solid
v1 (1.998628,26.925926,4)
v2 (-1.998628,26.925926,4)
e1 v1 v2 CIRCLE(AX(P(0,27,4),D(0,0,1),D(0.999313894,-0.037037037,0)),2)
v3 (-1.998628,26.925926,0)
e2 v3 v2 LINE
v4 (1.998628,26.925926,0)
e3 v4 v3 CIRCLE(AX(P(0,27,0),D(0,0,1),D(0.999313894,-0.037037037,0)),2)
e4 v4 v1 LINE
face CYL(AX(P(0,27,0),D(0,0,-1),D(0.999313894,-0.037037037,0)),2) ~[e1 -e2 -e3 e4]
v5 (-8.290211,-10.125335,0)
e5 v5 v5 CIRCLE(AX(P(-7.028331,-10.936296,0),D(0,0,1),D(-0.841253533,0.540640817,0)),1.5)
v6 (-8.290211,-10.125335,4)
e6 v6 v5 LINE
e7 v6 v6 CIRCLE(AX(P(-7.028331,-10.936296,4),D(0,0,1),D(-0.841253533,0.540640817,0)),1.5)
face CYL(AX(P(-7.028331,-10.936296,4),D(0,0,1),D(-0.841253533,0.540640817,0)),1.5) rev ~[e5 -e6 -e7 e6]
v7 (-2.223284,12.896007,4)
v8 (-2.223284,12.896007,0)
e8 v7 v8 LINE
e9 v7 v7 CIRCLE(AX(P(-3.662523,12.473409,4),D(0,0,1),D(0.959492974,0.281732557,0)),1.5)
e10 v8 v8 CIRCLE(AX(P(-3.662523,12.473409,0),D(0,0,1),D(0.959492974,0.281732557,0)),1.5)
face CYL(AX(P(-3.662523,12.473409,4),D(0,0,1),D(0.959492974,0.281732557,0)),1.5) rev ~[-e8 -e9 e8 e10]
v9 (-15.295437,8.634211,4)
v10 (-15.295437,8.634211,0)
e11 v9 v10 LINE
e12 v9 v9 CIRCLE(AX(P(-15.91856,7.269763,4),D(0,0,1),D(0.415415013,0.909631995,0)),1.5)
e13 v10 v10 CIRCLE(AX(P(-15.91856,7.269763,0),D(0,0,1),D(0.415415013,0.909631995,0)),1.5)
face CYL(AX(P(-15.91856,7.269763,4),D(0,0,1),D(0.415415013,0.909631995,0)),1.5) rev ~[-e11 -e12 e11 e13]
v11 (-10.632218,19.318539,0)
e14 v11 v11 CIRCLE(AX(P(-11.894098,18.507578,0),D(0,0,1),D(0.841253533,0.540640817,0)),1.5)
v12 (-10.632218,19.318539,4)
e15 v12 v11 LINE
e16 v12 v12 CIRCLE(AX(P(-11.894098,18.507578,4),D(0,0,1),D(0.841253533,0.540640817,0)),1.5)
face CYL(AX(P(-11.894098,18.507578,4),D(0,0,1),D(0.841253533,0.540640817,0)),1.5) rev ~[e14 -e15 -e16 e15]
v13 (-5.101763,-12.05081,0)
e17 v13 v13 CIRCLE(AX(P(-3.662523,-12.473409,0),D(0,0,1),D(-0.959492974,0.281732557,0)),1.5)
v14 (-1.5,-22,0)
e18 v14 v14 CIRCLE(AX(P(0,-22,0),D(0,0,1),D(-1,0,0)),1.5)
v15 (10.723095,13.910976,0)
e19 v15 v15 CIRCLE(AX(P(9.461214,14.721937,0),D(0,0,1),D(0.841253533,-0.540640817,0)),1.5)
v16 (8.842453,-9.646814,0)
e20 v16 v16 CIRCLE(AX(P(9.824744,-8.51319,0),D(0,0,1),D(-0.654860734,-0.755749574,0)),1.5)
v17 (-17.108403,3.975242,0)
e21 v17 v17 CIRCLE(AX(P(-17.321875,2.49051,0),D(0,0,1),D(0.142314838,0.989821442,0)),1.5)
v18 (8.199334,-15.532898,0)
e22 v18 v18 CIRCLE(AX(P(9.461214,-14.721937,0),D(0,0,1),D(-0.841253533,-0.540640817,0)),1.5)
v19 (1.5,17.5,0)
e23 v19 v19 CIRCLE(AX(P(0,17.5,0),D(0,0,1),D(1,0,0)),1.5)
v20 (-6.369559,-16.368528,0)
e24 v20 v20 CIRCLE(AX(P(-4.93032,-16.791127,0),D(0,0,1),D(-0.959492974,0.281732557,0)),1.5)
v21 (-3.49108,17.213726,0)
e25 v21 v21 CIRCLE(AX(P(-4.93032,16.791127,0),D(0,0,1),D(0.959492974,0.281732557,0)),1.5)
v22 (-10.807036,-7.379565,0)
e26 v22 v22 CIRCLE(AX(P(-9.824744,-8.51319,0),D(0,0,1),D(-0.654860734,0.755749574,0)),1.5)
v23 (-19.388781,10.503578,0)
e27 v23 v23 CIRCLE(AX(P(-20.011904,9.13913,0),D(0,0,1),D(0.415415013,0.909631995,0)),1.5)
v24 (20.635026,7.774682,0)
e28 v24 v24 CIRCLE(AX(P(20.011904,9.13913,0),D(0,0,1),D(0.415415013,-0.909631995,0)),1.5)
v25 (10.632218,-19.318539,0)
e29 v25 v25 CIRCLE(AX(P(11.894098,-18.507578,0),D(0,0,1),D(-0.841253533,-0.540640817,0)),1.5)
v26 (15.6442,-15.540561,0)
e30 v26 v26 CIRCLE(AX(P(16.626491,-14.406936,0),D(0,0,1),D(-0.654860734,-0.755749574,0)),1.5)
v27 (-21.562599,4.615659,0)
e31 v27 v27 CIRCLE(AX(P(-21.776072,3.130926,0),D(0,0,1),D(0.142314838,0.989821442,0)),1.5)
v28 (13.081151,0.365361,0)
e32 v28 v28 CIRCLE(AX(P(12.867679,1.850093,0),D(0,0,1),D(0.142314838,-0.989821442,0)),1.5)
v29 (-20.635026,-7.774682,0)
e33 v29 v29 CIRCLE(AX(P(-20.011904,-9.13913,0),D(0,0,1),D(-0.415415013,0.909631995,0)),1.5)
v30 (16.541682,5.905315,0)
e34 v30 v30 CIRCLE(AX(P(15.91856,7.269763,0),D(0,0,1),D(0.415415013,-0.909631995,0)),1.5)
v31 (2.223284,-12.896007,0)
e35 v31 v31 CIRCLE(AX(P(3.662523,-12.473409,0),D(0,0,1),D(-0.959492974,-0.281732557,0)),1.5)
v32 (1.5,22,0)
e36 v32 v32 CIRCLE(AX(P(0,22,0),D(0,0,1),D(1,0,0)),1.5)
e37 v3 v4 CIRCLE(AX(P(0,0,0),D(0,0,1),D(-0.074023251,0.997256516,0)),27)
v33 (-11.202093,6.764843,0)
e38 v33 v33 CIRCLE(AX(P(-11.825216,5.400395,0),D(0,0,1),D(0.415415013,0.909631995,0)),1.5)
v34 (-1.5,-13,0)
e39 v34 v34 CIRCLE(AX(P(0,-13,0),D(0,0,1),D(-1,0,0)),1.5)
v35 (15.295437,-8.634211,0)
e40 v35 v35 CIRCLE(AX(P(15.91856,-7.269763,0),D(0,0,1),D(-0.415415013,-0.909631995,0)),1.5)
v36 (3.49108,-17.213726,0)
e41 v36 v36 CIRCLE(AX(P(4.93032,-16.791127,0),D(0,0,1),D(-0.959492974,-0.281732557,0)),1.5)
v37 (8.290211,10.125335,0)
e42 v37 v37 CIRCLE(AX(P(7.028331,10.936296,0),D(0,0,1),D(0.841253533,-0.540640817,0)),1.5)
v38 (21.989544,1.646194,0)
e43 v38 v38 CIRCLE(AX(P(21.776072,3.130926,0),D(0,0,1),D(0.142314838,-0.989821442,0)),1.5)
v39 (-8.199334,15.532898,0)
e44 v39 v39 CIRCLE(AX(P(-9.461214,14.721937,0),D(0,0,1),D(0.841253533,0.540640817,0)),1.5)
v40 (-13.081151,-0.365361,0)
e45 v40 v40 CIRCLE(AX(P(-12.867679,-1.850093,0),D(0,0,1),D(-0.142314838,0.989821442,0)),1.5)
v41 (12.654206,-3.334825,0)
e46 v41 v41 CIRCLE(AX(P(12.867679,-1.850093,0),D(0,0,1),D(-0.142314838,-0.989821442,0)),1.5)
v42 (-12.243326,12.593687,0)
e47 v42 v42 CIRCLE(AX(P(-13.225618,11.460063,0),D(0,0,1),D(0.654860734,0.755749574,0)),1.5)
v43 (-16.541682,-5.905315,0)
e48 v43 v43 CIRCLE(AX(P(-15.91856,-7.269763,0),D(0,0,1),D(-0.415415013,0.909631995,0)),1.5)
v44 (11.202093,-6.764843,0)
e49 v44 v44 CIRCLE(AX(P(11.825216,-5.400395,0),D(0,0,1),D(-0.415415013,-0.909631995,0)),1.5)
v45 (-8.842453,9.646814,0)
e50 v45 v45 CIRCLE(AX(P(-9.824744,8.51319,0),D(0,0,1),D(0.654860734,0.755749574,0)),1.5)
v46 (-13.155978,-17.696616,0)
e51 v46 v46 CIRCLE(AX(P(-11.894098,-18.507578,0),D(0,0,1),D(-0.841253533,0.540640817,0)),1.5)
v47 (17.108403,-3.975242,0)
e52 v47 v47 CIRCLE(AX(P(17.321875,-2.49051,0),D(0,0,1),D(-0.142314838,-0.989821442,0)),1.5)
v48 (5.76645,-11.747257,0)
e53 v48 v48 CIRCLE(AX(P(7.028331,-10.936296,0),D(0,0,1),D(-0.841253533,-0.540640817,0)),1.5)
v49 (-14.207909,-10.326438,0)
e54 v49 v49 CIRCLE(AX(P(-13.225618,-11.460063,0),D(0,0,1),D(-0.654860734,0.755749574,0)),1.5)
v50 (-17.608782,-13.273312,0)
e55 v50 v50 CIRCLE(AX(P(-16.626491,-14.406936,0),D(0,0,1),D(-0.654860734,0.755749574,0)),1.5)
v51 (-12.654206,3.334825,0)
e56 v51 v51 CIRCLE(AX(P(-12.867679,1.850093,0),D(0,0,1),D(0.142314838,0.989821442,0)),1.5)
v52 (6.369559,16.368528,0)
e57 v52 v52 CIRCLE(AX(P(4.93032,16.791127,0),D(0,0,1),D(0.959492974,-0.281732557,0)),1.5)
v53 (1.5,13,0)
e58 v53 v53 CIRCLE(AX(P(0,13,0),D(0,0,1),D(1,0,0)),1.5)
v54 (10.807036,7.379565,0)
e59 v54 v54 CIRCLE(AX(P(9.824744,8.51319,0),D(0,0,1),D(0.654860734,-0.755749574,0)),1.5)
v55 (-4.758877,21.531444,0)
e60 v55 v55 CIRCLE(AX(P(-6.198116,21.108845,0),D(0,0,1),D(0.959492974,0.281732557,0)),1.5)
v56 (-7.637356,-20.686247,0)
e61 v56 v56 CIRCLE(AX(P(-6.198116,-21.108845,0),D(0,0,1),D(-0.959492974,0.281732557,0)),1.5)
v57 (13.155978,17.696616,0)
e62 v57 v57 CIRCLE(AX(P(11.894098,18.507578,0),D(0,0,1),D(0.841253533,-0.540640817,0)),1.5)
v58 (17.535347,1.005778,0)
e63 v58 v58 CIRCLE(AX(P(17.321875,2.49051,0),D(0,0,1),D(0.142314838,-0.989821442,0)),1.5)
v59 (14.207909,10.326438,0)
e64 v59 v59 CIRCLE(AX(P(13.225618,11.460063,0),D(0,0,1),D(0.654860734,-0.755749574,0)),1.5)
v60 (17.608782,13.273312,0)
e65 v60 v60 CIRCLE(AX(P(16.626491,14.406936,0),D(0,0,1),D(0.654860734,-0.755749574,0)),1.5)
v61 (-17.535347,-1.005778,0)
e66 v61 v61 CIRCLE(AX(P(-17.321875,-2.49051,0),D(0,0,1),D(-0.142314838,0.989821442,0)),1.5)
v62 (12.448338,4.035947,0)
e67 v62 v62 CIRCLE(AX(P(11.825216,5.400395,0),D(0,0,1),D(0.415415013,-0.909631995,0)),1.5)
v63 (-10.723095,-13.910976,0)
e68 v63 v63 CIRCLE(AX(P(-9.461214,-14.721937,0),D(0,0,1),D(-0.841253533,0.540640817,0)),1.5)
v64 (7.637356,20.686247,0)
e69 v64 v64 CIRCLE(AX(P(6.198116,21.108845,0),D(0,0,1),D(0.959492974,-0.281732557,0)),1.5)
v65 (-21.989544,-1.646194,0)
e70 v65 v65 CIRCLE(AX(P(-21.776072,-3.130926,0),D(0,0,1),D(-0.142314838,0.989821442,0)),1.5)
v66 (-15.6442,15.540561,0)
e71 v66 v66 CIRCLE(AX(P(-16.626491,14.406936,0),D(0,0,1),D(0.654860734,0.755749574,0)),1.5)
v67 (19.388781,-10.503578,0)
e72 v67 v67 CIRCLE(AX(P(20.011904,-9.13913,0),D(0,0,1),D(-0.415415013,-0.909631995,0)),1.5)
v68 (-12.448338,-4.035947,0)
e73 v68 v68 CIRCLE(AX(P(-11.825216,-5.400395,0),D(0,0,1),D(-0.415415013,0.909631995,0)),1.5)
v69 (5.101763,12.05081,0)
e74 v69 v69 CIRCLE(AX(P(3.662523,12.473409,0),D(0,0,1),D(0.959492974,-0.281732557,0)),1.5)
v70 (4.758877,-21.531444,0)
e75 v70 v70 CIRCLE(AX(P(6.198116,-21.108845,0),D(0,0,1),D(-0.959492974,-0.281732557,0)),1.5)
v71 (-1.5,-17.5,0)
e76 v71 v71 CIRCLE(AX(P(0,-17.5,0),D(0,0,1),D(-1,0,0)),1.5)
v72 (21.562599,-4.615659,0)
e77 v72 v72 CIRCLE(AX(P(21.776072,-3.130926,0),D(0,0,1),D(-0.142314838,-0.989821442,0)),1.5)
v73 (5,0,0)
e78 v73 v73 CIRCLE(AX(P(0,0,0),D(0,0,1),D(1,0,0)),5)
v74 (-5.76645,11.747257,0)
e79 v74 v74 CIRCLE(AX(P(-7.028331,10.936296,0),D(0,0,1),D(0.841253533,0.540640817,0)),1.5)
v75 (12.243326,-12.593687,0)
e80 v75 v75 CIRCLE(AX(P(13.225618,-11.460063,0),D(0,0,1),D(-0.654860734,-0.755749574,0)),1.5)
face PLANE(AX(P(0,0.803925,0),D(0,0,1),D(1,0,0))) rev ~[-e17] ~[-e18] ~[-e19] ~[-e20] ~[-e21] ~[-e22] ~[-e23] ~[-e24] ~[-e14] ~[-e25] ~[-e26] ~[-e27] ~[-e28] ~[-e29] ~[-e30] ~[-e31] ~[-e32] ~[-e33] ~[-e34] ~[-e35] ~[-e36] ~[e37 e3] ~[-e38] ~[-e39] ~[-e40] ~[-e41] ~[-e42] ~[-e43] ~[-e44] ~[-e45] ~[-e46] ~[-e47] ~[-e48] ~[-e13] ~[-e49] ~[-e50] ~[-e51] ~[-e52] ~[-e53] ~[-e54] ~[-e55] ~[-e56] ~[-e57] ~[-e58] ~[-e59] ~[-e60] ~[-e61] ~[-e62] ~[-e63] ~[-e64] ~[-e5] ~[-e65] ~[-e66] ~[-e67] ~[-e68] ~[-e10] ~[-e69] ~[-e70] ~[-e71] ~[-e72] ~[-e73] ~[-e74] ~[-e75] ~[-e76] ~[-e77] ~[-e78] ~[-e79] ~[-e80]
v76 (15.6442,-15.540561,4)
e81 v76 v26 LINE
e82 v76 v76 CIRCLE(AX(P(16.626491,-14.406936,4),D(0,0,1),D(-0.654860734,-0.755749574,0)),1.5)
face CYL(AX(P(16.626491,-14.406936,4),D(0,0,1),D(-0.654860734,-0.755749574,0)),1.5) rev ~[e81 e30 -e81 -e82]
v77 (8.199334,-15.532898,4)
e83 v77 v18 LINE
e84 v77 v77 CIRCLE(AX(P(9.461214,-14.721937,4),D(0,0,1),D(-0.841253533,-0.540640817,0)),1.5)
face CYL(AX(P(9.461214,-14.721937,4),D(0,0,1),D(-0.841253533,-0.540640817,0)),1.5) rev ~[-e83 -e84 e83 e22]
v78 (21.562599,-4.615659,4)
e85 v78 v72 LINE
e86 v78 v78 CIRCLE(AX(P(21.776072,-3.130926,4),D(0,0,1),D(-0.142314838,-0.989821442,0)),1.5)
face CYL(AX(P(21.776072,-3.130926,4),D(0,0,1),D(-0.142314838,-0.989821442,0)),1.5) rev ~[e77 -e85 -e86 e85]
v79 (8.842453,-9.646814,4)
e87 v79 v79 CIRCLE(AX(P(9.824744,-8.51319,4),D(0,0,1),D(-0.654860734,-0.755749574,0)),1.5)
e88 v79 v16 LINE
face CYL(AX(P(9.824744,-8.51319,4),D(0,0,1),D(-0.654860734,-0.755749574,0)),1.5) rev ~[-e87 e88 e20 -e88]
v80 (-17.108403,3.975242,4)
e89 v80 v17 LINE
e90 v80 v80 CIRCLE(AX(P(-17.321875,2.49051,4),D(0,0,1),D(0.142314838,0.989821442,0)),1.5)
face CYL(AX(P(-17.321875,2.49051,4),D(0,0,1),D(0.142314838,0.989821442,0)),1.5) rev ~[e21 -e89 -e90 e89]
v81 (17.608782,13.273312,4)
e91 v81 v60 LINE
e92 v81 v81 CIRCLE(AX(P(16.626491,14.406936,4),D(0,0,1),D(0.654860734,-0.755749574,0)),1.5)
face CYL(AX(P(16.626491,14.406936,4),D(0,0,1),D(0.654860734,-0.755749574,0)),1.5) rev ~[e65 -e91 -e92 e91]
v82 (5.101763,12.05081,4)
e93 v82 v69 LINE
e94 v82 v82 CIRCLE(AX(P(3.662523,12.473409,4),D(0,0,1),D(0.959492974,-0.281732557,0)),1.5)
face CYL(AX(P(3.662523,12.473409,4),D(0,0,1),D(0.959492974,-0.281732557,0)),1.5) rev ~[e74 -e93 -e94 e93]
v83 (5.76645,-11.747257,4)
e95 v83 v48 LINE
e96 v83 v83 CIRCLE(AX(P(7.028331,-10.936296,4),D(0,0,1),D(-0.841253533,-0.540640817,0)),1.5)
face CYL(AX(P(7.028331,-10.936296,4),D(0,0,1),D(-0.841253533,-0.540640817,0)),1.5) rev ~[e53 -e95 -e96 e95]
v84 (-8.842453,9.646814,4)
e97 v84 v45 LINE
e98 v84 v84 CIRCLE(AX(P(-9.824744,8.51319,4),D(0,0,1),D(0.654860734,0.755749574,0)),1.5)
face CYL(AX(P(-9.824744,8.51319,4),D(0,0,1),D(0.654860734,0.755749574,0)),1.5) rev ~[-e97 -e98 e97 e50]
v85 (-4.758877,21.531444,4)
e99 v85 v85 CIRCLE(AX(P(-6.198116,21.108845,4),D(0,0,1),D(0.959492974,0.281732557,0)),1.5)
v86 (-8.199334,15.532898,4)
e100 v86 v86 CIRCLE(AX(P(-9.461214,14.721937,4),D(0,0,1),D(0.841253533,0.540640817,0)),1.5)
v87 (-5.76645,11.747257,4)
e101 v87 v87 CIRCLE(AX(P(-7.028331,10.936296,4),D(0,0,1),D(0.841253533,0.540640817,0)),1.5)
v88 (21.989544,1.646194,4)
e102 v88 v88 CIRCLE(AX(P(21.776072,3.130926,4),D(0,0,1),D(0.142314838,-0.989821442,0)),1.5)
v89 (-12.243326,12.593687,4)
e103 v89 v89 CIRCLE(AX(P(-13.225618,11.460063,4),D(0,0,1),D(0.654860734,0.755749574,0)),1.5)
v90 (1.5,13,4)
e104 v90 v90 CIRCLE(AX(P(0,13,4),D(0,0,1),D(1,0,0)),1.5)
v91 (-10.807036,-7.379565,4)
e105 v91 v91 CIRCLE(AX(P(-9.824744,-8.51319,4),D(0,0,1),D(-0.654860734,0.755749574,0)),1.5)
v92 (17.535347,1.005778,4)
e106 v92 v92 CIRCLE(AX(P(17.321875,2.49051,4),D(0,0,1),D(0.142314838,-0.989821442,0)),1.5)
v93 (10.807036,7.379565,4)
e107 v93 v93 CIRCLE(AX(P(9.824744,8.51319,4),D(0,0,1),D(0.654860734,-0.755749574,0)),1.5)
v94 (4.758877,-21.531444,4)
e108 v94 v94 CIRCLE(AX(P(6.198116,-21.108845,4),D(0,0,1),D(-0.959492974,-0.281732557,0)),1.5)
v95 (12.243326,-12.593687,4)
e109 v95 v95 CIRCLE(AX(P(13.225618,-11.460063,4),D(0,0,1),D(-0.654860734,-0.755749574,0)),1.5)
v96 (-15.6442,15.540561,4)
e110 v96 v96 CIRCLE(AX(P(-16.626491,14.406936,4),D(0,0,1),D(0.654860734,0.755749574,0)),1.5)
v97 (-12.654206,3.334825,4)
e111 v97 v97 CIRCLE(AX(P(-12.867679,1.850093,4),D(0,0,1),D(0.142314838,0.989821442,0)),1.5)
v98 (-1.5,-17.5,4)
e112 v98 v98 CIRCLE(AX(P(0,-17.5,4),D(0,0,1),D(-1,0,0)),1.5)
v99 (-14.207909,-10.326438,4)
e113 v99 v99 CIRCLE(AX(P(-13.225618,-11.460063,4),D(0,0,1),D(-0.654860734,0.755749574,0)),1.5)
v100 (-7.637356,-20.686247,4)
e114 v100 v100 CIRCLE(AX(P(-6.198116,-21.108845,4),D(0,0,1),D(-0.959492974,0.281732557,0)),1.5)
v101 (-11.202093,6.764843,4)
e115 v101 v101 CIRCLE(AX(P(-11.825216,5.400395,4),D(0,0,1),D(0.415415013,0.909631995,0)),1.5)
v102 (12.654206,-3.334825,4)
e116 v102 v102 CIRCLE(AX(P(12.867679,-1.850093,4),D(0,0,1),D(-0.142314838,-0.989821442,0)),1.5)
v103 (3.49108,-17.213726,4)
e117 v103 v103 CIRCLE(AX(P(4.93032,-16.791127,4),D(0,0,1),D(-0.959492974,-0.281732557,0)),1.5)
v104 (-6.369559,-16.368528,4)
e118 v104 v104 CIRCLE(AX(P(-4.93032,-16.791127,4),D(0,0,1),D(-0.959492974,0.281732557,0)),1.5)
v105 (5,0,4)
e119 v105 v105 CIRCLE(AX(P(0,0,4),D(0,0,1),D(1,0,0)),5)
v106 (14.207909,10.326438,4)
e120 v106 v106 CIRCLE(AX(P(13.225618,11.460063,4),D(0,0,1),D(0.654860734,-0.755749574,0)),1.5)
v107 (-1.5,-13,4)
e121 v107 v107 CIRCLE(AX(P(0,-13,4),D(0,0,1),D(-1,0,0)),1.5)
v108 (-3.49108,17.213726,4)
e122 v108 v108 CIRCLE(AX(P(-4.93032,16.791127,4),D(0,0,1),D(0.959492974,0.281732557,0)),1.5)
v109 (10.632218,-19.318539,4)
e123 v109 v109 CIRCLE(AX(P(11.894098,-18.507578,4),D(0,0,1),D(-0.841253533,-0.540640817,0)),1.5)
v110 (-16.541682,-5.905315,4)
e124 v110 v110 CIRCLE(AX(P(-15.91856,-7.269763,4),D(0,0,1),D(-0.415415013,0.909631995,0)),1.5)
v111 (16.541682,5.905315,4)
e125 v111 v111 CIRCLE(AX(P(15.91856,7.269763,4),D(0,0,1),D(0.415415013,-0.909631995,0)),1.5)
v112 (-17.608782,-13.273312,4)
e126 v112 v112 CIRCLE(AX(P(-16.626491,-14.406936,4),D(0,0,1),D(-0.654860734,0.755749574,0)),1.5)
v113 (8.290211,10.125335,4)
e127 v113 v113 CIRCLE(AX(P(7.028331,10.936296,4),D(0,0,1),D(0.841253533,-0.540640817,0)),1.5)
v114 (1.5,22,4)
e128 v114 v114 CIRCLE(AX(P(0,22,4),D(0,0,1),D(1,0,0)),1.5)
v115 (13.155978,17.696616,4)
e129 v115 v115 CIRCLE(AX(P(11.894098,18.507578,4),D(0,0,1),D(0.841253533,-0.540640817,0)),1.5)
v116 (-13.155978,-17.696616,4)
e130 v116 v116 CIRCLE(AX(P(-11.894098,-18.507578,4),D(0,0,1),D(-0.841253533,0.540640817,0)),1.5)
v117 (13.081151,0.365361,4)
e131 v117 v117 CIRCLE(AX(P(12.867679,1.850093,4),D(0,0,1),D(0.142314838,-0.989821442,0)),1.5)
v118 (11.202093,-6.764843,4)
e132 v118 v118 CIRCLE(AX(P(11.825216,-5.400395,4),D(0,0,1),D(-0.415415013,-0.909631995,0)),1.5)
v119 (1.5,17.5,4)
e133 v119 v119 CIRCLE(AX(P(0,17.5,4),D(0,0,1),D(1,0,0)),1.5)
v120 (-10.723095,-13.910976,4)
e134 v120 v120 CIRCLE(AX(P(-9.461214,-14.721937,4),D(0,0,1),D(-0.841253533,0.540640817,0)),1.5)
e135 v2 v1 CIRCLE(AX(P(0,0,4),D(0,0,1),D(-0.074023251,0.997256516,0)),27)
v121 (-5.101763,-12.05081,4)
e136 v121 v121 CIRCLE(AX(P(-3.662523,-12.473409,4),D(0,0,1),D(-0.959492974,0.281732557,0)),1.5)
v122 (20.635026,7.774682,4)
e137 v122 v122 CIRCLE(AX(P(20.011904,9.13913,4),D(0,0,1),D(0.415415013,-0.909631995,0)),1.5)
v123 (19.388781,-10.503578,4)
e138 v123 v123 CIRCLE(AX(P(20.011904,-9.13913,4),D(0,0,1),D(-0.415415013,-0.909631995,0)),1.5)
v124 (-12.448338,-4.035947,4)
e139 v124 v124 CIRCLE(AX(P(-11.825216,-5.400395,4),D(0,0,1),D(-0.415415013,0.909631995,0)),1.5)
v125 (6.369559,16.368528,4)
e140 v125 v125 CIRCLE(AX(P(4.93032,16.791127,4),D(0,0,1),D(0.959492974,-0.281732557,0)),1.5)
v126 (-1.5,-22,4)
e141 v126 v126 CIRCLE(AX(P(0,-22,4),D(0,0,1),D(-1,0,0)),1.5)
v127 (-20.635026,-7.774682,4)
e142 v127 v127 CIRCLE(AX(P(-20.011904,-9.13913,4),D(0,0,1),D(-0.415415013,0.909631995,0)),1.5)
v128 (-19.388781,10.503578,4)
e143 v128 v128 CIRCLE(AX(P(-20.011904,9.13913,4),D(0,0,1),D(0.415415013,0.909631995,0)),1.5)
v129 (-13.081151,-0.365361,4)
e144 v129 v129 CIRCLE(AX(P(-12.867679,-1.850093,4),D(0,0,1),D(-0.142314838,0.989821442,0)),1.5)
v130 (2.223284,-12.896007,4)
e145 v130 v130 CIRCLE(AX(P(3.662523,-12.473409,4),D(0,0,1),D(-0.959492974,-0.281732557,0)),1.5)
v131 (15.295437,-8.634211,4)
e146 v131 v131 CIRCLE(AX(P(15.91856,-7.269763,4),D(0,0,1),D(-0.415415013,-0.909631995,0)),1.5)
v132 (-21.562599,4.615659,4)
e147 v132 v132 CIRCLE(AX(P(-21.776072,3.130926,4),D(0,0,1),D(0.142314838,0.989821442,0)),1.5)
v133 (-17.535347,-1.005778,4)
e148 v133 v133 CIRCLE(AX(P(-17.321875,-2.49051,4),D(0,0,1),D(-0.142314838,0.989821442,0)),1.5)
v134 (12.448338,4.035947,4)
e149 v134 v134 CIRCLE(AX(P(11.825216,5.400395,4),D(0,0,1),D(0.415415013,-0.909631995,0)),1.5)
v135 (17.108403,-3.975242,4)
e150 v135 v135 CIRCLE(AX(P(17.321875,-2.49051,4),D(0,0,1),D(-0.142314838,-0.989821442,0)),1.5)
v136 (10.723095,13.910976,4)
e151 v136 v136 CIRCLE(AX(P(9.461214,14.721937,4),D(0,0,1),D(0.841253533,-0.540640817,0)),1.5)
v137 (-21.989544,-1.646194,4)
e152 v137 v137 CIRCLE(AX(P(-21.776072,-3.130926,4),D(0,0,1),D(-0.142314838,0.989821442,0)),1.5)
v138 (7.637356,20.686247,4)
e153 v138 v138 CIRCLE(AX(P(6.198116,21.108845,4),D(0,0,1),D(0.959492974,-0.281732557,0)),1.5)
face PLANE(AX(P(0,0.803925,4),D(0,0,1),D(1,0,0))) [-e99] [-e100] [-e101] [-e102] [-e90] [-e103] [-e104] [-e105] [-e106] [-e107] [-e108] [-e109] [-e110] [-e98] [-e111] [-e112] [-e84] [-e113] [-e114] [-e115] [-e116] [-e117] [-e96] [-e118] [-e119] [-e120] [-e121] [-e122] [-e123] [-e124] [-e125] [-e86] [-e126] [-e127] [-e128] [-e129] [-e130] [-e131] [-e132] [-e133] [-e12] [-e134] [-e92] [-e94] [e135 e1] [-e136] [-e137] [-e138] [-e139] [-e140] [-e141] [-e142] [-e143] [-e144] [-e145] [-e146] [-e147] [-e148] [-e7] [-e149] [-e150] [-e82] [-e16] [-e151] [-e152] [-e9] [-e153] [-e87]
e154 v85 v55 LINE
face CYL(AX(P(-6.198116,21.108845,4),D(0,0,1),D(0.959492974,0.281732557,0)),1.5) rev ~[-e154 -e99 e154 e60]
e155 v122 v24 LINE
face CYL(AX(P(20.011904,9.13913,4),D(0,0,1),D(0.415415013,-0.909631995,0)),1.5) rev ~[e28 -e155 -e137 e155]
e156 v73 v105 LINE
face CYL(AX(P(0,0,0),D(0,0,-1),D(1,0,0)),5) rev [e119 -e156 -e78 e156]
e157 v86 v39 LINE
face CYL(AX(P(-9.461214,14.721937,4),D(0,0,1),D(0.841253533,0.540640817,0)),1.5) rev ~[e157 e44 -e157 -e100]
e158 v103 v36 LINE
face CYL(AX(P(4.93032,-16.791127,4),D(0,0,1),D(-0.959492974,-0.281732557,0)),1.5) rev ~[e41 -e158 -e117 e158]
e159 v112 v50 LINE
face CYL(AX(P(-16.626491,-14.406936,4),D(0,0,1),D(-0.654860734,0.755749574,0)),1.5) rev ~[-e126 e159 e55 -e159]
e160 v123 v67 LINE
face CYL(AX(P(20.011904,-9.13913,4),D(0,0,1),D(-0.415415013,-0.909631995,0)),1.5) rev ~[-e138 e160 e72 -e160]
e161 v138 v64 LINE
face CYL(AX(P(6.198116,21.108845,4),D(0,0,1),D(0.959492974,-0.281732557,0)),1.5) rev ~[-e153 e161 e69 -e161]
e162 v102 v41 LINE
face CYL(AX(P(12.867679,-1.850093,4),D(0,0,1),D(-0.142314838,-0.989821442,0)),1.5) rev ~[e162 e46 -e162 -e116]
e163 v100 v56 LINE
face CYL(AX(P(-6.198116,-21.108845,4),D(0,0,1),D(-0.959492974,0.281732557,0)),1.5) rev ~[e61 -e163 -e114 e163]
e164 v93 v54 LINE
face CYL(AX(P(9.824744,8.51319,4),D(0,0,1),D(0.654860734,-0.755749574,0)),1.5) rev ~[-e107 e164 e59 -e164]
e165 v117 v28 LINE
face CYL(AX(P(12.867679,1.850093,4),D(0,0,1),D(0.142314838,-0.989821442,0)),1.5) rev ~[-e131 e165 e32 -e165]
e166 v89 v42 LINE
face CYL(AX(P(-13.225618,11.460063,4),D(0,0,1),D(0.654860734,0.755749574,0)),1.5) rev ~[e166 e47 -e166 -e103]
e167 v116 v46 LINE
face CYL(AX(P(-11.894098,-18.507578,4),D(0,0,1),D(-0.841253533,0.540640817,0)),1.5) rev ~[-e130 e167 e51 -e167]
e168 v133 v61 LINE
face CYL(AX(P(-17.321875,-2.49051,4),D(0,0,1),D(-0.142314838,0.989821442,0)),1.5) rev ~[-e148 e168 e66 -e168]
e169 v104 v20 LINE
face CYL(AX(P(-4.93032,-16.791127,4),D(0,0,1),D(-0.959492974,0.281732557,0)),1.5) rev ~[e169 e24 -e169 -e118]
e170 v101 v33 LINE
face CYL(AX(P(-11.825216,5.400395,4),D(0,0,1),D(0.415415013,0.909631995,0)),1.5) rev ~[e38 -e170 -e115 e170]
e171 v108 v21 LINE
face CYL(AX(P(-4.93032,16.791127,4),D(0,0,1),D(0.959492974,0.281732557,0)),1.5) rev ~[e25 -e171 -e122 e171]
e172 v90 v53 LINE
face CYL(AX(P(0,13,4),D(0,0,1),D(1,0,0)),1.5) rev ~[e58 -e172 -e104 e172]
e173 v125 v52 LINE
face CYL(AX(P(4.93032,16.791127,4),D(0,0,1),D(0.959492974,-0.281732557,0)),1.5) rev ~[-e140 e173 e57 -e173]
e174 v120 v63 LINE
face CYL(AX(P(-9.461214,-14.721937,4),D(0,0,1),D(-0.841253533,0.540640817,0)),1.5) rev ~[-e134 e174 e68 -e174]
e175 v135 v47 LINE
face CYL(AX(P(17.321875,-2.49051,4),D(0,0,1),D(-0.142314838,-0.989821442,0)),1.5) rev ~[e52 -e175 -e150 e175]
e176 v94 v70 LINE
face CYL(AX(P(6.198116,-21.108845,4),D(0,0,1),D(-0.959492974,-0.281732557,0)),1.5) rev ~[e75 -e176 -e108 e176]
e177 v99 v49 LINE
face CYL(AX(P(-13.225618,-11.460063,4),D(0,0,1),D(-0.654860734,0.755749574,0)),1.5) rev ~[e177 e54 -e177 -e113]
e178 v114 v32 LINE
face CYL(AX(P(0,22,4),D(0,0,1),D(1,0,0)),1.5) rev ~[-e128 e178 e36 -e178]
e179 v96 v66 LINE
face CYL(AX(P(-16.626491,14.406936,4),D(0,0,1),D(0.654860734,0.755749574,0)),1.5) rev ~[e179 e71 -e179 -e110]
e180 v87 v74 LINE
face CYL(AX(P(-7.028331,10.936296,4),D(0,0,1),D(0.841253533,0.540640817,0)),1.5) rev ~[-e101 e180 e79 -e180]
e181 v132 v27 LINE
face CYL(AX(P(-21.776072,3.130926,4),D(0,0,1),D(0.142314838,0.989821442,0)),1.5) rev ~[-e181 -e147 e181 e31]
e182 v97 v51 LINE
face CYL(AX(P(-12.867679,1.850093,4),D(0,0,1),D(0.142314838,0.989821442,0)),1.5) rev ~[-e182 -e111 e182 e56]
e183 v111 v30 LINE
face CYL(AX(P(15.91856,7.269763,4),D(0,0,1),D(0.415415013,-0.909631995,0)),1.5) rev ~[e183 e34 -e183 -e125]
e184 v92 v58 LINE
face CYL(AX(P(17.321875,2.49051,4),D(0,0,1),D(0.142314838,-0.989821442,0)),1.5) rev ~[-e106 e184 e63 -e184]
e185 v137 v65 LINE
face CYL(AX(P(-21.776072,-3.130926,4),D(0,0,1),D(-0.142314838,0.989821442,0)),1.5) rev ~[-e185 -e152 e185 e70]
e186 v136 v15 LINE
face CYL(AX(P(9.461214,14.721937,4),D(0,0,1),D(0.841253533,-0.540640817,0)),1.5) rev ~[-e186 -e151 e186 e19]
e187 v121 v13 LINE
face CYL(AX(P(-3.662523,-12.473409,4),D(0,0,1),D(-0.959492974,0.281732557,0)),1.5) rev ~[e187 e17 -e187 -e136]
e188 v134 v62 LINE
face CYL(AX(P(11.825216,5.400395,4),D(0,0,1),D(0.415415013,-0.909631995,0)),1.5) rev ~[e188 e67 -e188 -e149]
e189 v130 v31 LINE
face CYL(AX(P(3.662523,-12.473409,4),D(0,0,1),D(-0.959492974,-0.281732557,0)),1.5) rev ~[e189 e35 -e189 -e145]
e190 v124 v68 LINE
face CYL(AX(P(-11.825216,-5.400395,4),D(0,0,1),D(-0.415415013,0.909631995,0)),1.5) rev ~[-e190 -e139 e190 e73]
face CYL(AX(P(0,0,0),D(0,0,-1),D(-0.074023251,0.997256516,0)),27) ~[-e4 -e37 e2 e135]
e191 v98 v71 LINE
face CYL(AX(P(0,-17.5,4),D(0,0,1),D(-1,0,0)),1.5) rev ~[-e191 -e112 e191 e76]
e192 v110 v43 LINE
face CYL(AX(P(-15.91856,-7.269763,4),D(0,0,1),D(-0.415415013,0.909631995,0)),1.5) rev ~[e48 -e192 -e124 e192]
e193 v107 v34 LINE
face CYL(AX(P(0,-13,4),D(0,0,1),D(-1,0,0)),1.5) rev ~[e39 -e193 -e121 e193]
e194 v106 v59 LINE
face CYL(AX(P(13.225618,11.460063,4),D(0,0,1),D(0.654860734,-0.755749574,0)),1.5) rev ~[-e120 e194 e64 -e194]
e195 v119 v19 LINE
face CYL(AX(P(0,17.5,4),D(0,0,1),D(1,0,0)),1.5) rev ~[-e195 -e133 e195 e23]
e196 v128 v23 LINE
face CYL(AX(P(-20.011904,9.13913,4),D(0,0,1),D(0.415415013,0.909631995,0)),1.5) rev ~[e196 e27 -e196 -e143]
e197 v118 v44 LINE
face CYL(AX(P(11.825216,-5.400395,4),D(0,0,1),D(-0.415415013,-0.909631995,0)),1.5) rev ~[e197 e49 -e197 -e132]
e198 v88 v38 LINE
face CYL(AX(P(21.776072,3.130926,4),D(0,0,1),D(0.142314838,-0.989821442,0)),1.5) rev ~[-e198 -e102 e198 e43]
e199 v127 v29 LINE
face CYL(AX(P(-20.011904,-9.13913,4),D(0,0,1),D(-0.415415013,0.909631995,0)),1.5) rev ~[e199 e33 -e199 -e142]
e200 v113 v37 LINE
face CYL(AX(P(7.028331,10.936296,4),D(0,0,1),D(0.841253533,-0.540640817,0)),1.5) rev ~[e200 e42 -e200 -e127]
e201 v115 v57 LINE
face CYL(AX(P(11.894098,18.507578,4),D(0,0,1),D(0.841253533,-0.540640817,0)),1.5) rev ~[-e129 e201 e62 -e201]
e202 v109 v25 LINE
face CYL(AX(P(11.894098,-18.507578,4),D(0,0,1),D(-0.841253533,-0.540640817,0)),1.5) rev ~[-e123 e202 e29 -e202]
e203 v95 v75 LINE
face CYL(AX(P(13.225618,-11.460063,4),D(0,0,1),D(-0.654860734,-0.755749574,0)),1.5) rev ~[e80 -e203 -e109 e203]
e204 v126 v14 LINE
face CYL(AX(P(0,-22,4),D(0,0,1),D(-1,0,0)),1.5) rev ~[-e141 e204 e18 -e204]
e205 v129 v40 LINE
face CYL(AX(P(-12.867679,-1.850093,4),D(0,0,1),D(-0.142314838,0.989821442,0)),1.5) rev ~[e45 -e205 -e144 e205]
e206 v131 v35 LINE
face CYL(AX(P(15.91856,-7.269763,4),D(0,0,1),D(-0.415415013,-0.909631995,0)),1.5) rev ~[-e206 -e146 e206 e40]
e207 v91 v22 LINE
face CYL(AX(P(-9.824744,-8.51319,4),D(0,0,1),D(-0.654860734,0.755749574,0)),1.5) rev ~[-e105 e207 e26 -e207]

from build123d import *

# Parameters (mm, degrees)
SKETCH1_R           = 5
BOSS_EXTRUDE1_DEPTH = 4
SKETCH2_R           = 1.5
CUT_EXTRUDE1_DEPTH  = 40.824615503
CIRPATTERN1_COUNT   = 22


with BuildPart() as part:
    # Sketch1 → Boss-Extrude1 (new body)
    with BuildSketch(Plane.XY):
        with BuildLine():
            ThreePointArc((-1.998627787, 26.925925926), (0, -27), (1.998627787, 26.925925926))
            ThreePointArc((1.998627787, 26.925925926), (0, 29), (-1.998627787, 26.925925926))
        make_face()
        Circle(SKETCH1_R, mode=Mode.SUBTRACT)
    extrude(amount=BOSS_EXTRUDE1_DEPTH)

    # Sketch2 → Cut-Extrude1 (cut, through all)
    with BuildSketch(Plane.XY.offset(4)):
        with Locations((0, 13)):
            Circle(SKETCH2_R)
        with Locations((0, 17.5)):
            Circle(SKETCH2_R)
        with Locations((0, 22)):
            Circle(SKETCH2_R)
    cut_extrude1 = extrude(amount=-CUT_EXTRUDE1_DEPTH, mode=Mode.SUBTRACT)

    # CirPattern1: Cut-Extrude1 ×22 about axis
    cirpattern1_axis = Axis((0, 0, 0), (0, 0, 1))
    for i in range(1, CIRPATTERN1_COUNT):
        add(cut_extrude1.rotate(cirpattern1_axis, i * 360 / CIRPATTERN1_COUNT), mode=Mode.SUBTRACT)


solid = part.part
